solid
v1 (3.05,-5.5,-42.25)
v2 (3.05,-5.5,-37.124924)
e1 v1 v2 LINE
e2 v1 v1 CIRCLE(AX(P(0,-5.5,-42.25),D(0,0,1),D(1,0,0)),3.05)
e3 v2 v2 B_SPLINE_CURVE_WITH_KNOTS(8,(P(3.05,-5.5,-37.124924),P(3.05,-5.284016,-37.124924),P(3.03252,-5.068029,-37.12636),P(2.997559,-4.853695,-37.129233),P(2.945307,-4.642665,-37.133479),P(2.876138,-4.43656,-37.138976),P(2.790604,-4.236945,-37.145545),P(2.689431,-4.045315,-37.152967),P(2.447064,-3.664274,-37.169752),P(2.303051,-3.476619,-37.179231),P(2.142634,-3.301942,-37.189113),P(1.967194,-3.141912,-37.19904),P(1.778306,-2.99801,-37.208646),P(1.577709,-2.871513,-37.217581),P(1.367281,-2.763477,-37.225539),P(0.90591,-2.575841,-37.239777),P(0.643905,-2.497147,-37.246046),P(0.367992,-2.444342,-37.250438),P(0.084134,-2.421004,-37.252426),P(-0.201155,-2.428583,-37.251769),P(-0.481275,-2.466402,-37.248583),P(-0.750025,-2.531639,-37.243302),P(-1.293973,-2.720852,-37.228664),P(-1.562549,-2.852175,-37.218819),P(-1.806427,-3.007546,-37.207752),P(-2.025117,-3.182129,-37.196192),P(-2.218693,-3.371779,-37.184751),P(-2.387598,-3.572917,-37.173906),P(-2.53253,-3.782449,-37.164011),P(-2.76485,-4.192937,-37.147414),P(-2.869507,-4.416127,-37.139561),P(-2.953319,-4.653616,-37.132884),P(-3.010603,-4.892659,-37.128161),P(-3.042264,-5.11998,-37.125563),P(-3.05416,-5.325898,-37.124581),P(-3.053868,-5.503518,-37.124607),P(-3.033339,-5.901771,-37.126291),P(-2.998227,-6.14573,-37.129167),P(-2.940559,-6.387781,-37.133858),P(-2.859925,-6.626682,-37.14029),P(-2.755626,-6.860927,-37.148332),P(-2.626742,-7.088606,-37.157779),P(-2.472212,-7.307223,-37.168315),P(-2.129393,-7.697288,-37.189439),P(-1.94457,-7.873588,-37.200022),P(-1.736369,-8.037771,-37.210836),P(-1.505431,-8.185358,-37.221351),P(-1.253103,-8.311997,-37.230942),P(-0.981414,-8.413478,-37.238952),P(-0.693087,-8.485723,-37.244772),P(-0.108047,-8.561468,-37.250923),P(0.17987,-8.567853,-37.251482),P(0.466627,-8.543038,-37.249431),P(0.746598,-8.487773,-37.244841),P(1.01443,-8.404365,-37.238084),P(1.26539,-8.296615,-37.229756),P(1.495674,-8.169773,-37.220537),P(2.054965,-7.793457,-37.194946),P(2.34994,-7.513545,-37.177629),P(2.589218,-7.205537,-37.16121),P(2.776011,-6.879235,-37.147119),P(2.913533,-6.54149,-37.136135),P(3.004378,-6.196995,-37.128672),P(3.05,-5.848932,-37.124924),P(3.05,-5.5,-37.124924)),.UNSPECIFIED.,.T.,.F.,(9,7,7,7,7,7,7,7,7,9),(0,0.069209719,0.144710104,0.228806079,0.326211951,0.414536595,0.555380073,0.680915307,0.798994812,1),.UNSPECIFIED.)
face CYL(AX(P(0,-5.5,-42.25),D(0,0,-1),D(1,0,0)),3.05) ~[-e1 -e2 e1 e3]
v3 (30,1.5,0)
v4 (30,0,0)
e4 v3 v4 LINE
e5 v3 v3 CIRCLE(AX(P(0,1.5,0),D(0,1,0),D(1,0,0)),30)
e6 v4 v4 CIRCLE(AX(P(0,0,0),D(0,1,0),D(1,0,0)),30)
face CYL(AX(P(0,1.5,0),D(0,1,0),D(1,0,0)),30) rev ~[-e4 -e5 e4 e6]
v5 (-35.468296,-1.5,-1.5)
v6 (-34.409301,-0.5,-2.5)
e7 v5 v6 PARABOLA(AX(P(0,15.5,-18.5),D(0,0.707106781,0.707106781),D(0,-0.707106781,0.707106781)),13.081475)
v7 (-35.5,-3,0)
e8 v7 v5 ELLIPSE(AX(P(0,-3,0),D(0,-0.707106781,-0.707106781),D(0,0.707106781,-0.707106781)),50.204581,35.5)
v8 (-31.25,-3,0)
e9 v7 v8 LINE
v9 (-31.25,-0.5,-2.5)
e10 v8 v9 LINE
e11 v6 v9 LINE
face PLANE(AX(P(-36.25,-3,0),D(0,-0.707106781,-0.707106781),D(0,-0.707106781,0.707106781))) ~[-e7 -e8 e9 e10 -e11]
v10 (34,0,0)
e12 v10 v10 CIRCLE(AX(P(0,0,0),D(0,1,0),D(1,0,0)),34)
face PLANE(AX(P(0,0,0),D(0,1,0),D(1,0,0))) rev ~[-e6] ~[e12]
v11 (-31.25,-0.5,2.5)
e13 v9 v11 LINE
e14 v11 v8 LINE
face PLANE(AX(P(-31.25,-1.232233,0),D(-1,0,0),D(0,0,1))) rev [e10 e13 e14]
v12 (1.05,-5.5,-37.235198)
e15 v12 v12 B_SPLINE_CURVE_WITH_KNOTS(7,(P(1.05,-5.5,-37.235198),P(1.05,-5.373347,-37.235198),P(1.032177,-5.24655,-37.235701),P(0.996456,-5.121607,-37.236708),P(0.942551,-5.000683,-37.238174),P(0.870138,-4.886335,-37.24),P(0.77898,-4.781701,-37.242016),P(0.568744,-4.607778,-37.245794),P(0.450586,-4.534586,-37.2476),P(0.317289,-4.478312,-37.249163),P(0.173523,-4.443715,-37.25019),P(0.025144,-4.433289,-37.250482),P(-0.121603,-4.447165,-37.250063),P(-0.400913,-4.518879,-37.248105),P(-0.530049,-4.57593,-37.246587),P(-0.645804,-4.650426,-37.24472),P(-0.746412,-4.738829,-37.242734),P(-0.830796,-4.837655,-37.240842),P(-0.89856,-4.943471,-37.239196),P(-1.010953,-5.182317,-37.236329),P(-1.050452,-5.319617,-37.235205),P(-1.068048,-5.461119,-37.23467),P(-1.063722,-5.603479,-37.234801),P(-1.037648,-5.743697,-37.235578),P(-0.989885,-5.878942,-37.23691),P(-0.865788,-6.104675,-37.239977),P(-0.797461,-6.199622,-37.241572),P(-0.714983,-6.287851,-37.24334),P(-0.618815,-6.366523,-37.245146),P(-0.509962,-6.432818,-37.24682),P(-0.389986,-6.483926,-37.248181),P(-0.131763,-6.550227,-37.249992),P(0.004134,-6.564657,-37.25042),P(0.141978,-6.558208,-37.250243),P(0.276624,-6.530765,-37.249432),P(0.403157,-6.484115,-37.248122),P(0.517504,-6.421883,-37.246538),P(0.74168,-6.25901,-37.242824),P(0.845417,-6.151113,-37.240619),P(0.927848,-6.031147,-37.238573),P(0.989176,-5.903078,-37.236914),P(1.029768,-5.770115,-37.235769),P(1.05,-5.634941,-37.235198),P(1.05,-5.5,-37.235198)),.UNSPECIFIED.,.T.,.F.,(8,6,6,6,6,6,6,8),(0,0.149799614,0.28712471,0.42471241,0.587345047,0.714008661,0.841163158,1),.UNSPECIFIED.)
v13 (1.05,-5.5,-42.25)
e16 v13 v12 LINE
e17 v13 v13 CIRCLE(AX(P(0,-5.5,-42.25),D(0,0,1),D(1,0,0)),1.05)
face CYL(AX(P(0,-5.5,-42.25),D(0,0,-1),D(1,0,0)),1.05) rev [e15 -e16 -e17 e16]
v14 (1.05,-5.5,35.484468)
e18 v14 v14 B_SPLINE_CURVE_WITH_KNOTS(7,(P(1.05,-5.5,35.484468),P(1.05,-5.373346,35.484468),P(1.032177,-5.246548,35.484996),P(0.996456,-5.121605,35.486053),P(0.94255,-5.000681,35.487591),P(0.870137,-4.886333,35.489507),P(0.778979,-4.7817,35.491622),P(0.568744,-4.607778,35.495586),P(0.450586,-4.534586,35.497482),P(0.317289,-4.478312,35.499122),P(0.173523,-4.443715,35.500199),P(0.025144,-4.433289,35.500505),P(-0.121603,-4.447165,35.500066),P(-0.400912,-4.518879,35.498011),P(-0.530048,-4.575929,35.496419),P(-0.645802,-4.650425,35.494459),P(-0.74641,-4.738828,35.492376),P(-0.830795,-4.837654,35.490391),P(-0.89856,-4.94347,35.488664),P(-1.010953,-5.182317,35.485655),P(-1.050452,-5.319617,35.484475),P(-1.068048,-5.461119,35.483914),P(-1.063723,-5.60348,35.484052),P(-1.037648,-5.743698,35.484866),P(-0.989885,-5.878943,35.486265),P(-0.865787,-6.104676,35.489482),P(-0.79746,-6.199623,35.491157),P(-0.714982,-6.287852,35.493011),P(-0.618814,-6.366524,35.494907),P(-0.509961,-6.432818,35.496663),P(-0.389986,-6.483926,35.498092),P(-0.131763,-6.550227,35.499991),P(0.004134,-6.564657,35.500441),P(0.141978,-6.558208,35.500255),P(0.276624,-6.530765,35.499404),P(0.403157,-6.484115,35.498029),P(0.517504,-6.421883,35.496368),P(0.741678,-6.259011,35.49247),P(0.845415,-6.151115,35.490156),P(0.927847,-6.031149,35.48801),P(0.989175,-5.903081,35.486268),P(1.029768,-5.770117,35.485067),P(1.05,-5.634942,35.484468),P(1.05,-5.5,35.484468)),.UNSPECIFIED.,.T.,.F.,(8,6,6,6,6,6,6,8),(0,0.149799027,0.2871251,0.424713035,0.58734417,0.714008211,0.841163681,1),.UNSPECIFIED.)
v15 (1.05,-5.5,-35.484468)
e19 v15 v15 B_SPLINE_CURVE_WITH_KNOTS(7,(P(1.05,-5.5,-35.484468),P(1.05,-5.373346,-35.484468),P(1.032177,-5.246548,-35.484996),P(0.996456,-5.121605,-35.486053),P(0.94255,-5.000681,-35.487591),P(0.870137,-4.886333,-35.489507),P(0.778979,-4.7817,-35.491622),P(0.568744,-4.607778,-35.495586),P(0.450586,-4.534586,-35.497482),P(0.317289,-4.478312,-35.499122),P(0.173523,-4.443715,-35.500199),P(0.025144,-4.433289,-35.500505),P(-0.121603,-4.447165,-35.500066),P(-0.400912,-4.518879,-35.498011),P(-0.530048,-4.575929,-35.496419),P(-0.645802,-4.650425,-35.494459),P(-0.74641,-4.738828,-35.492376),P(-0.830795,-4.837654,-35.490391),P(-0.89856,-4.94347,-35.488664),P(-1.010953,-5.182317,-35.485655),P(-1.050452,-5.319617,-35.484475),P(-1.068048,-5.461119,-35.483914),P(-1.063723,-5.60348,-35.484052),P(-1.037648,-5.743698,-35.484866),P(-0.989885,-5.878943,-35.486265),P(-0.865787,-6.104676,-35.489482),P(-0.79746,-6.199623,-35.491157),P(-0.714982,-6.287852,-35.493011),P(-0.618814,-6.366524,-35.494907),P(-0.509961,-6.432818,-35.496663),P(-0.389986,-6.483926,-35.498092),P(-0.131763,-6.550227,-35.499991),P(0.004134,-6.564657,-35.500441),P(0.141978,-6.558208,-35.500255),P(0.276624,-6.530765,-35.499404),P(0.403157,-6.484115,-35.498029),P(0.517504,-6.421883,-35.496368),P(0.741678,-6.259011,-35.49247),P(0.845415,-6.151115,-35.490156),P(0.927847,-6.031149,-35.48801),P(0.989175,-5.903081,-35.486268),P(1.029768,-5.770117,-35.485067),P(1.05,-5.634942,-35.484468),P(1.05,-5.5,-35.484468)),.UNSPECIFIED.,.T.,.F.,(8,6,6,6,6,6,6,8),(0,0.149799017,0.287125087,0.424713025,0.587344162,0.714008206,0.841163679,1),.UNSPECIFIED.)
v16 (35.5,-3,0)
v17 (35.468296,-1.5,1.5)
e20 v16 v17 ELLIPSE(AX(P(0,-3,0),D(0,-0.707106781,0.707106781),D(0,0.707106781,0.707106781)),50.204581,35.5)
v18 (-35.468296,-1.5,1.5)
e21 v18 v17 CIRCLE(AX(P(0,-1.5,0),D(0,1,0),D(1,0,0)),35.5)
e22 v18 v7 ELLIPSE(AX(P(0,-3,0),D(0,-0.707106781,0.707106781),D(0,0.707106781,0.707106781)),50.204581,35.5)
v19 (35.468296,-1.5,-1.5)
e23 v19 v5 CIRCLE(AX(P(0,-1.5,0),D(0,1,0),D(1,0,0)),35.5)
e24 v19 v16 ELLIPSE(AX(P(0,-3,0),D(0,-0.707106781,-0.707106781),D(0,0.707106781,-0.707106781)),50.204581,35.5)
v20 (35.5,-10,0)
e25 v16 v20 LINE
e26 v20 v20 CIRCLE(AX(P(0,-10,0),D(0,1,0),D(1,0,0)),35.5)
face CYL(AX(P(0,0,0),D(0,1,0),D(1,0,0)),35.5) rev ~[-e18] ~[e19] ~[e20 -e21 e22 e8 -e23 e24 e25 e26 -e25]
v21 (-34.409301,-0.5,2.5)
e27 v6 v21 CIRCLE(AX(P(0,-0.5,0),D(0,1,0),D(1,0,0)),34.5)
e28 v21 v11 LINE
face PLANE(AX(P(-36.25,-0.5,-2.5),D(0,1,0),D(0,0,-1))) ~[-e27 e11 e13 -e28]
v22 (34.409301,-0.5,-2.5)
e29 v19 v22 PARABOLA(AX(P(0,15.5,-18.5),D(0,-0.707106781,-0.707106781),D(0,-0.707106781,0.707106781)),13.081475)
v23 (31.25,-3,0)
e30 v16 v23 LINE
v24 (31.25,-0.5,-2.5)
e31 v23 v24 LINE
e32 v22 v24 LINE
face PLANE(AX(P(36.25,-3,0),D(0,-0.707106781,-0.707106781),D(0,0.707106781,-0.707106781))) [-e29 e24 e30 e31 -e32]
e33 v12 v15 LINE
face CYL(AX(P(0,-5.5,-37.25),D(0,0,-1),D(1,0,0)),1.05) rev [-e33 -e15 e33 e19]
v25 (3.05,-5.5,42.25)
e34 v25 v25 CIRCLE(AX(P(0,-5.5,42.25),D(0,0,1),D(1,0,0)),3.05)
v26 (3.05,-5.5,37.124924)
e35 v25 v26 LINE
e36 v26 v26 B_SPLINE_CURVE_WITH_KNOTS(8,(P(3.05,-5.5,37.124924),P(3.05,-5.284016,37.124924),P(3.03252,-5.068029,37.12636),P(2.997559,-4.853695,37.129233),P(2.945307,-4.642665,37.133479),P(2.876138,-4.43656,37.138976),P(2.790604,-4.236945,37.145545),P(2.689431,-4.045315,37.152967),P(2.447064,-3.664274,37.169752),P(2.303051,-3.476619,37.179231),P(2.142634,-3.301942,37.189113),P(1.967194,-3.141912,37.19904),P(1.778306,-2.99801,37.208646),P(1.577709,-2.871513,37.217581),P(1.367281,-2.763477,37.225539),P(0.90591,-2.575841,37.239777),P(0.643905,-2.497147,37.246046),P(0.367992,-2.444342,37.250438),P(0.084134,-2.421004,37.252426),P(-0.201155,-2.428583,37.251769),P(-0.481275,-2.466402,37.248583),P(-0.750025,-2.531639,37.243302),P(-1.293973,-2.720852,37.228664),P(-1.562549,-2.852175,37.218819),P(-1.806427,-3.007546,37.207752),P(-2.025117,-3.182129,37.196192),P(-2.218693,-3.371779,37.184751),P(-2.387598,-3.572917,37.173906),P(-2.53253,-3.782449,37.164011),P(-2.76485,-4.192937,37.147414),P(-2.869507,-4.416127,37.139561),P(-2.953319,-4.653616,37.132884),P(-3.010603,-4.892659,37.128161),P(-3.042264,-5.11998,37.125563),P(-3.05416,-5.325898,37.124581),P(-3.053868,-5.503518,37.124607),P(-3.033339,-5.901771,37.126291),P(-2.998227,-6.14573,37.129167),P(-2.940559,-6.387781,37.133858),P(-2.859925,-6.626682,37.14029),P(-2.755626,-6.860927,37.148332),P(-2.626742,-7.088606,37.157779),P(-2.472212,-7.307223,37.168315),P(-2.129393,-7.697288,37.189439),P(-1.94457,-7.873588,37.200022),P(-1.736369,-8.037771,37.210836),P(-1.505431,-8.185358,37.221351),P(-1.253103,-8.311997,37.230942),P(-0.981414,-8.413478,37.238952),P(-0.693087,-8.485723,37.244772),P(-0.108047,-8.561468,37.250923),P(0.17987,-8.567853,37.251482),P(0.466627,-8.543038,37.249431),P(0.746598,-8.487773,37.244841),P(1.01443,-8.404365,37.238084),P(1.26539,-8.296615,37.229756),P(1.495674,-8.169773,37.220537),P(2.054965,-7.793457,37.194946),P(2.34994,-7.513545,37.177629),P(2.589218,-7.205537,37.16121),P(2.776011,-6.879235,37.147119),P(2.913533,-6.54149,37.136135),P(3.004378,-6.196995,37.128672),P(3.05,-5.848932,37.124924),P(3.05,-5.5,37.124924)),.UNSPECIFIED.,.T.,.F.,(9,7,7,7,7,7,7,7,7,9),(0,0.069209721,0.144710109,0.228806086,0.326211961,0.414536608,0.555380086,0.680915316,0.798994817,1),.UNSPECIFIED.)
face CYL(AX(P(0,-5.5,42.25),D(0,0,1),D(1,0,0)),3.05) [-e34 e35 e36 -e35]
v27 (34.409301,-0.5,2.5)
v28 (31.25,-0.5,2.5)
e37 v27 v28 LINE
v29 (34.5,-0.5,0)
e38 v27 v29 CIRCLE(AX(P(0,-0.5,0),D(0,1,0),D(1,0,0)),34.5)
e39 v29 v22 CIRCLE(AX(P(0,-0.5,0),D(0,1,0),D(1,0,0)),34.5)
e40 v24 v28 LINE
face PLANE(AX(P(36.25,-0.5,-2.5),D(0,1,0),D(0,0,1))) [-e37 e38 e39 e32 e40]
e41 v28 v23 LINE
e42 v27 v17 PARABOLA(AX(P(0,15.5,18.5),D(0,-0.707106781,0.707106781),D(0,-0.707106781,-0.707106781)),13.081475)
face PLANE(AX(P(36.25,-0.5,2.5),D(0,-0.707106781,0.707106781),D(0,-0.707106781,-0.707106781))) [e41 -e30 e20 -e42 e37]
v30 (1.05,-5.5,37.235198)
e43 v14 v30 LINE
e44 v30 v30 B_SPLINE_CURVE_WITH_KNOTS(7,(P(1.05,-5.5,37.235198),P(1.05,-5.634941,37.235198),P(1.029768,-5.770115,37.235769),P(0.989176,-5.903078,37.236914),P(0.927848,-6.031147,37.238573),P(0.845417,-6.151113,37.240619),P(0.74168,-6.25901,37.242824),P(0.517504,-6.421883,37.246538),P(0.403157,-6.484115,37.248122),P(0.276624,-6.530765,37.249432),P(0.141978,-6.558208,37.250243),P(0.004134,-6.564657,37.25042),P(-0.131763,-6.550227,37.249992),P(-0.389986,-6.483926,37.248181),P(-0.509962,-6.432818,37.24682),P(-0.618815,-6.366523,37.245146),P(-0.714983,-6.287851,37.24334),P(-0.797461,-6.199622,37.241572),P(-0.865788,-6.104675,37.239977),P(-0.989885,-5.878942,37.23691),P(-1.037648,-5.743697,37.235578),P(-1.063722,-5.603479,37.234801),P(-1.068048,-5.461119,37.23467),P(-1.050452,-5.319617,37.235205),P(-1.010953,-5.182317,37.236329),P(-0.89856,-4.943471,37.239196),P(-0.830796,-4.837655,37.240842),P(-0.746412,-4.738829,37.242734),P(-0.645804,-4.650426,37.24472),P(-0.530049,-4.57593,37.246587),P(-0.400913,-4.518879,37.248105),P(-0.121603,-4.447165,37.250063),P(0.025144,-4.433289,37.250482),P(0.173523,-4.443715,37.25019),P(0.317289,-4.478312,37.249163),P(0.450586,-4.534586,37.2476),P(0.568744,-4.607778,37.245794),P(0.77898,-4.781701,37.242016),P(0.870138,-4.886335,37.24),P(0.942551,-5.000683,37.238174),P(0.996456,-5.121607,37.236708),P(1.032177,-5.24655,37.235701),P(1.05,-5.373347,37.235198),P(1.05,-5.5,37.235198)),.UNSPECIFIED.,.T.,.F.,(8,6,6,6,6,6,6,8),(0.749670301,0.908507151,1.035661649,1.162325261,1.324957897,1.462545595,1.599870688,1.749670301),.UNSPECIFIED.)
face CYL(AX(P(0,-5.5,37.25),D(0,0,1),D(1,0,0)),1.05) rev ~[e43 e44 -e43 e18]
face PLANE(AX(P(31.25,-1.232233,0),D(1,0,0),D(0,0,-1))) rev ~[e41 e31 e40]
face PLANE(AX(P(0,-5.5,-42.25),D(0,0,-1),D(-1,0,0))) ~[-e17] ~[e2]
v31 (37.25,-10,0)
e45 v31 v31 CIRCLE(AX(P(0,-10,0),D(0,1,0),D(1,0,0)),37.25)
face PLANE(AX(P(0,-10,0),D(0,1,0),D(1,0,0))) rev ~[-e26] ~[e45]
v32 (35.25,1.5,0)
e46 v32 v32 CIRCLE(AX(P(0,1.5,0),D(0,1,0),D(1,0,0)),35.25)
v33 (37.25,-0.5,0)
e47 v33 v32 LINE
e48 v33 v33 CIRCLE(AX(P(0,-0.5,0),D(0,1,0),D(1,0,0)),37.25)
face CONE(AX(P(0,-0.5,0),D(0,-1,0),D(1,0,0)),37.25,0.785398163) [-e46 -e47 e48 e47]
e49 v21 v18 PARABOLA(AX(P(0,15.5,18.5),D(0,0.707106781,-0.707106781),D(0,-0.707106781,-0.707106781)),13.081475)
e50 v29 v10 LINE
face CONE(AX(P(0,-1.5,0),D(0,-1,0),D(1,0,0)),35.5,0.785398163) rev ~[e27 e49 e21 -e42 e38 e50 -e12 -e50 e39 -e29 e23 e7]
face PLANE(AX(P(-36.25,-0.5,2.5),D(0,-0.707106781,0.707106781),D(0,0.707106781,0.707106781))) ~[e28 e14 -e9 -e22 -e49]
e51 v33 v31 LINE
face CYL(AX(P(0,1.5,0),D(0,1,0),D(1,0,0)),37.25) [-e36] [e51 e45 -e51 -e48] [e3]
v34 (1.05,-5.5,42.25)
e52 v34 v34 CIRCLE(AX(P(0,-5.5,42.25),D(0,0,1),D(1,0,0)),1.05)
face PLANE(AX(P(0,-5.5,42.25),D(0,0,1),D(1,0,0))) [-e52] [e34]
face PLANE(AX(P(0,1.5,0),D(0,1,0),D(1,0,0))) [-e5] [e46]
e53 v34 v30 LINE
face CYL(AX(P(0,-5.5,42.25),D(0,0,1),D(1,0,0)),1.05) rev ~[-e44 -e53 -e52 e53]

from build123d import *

# Parameters (mm, degrees)
SKETCH1_R           = 37.25
SKETCH1_R_2         = 35.5
BOSS_EXTRUDE1_DEPTH = 10
BOSS_EXTRUDE2_START = 1.5
SKETCH1_2_R         = 37.25
SKETCH1_2_R_2       = 30
BOSS_EXTRUDE2_DEPTH = 1.5
CHAMFER1_SIZE       = 1.5
CHAMFER2_SIZE       = 2
SKETCH2_R           = 1.05
CUT_EXTRUDE1_DEPTH  = 10
BOSS_EXTRUDE4_START = 5
SKETCH2_3_R         = 3.05
SKETCH2_3_R_2       = 1.05
BOSS_EXTRUDE4_DEPTH = 6
BOSS_EXTRUDE6_START = -1
BOSS_EXTRUDE6_DEPTH = 5


with BuildPart() as part:
    # Sketch1 → Boss-Extrude1 (new body)
    with BuildSketch(Plane(origin=(0, 0, 0), x_dir=(1, 0, 0), z_dir=(0, 1, 0))):
        Circle(SKETCH1_R)
        Circle(SKETCH1_R_2, mode=Mode.SUBTRACT)
    extrude(amount=-BOSS_EXTRUDE1_DEPTH)

    # Sketch1<2> → Boss-Extrude2 (add)
    with BuildSketch(Plane(origin=(0, 0, 0), x_dir=(1, 0, 0), z_dir=(0, 1, 0)).offset(BOSS_EXTRUDE2_START)):
        Circle(SKETCH1_2_R)
        Circle(SKETCH1_2_R_2, mode=Mode.SUBTRACT)
    extrude(amount=-BOSS_EXTRUDE2_DEPTH)

    # Chamfer1
    chamfer1_edges = [part.edges().sort_by_distance(p)[0] for p in [
        (-35.5, 0, 0),
    ]]
    chamfer(chamfer1_edges, length=CHAMFER1_SIZE)

    # Chamfer2
    chamfer2_edges = [part.edges().sort_by_distance(p)[0] for p in [
        (-37.25, 1.5, 0),
    ]]
    chamfer(chamfer2_edges, length=CHAMFER2_SIZE)

    # Sketch2 → Cut-Extrude1 (cut)
    with BuildSketch(Plane.XY.offset(37.25)):
        with Locations((0, -5.5)):
            Circle(SKETCH2_R)
    cut_extrude1 = extrude(amount=-CUT_EXTRUDE1_DEPTH, mode=Mode.SUBTRACT)

    # Sketch2<3> → Boss-Extrude4 (add)
    with BuildSketch(Plane.XY.offset(37.25).offset(BOSS_EXTRUDE4_START)):
        with Locations((0, -5.5)):
            Circle(SKETCH2_3_R)
        with Locations((0, -5.5)):
            Circle(SKETCH2_3_R_2, mode=Mode.SUBTRACT)
    boss_extrude4 = extrude(amount=-BOSS_EXTRUDE4_DEPTH)

    # Mirror1: Cut-Extrude1, Boss-Extrude4 across plane
    add(cut_extrude1.mirror(Plane.XY), mode=Mode.SUBTRACT)
    add(boss_extrude4.mirror(Plane.XY))

    # tirangle → Boss-Extrude6 (add)
    with BuildSketch(Plane(origin=(37.25, 0, 0), x_dir=(0, 0, -1), z_dir=(1, 0, 0)).offset(BOSS_EXTRUDE6_START)):
        Polygon((2.5, -0.5), (-2.5, -0.5), (0, -3), align=None)
    boss_extrude6 = extrude(amount=-BOSS_EXTRUDE6_DEPTH)

    # Mirror2: Boss-Extrude6 across plane
    add(boss_extrude6.mirror(Plane(origin=(0, 0, 0), x_dir=(0, 0, 1), z_dir=(1, 0, 0))))


solid = part.part
